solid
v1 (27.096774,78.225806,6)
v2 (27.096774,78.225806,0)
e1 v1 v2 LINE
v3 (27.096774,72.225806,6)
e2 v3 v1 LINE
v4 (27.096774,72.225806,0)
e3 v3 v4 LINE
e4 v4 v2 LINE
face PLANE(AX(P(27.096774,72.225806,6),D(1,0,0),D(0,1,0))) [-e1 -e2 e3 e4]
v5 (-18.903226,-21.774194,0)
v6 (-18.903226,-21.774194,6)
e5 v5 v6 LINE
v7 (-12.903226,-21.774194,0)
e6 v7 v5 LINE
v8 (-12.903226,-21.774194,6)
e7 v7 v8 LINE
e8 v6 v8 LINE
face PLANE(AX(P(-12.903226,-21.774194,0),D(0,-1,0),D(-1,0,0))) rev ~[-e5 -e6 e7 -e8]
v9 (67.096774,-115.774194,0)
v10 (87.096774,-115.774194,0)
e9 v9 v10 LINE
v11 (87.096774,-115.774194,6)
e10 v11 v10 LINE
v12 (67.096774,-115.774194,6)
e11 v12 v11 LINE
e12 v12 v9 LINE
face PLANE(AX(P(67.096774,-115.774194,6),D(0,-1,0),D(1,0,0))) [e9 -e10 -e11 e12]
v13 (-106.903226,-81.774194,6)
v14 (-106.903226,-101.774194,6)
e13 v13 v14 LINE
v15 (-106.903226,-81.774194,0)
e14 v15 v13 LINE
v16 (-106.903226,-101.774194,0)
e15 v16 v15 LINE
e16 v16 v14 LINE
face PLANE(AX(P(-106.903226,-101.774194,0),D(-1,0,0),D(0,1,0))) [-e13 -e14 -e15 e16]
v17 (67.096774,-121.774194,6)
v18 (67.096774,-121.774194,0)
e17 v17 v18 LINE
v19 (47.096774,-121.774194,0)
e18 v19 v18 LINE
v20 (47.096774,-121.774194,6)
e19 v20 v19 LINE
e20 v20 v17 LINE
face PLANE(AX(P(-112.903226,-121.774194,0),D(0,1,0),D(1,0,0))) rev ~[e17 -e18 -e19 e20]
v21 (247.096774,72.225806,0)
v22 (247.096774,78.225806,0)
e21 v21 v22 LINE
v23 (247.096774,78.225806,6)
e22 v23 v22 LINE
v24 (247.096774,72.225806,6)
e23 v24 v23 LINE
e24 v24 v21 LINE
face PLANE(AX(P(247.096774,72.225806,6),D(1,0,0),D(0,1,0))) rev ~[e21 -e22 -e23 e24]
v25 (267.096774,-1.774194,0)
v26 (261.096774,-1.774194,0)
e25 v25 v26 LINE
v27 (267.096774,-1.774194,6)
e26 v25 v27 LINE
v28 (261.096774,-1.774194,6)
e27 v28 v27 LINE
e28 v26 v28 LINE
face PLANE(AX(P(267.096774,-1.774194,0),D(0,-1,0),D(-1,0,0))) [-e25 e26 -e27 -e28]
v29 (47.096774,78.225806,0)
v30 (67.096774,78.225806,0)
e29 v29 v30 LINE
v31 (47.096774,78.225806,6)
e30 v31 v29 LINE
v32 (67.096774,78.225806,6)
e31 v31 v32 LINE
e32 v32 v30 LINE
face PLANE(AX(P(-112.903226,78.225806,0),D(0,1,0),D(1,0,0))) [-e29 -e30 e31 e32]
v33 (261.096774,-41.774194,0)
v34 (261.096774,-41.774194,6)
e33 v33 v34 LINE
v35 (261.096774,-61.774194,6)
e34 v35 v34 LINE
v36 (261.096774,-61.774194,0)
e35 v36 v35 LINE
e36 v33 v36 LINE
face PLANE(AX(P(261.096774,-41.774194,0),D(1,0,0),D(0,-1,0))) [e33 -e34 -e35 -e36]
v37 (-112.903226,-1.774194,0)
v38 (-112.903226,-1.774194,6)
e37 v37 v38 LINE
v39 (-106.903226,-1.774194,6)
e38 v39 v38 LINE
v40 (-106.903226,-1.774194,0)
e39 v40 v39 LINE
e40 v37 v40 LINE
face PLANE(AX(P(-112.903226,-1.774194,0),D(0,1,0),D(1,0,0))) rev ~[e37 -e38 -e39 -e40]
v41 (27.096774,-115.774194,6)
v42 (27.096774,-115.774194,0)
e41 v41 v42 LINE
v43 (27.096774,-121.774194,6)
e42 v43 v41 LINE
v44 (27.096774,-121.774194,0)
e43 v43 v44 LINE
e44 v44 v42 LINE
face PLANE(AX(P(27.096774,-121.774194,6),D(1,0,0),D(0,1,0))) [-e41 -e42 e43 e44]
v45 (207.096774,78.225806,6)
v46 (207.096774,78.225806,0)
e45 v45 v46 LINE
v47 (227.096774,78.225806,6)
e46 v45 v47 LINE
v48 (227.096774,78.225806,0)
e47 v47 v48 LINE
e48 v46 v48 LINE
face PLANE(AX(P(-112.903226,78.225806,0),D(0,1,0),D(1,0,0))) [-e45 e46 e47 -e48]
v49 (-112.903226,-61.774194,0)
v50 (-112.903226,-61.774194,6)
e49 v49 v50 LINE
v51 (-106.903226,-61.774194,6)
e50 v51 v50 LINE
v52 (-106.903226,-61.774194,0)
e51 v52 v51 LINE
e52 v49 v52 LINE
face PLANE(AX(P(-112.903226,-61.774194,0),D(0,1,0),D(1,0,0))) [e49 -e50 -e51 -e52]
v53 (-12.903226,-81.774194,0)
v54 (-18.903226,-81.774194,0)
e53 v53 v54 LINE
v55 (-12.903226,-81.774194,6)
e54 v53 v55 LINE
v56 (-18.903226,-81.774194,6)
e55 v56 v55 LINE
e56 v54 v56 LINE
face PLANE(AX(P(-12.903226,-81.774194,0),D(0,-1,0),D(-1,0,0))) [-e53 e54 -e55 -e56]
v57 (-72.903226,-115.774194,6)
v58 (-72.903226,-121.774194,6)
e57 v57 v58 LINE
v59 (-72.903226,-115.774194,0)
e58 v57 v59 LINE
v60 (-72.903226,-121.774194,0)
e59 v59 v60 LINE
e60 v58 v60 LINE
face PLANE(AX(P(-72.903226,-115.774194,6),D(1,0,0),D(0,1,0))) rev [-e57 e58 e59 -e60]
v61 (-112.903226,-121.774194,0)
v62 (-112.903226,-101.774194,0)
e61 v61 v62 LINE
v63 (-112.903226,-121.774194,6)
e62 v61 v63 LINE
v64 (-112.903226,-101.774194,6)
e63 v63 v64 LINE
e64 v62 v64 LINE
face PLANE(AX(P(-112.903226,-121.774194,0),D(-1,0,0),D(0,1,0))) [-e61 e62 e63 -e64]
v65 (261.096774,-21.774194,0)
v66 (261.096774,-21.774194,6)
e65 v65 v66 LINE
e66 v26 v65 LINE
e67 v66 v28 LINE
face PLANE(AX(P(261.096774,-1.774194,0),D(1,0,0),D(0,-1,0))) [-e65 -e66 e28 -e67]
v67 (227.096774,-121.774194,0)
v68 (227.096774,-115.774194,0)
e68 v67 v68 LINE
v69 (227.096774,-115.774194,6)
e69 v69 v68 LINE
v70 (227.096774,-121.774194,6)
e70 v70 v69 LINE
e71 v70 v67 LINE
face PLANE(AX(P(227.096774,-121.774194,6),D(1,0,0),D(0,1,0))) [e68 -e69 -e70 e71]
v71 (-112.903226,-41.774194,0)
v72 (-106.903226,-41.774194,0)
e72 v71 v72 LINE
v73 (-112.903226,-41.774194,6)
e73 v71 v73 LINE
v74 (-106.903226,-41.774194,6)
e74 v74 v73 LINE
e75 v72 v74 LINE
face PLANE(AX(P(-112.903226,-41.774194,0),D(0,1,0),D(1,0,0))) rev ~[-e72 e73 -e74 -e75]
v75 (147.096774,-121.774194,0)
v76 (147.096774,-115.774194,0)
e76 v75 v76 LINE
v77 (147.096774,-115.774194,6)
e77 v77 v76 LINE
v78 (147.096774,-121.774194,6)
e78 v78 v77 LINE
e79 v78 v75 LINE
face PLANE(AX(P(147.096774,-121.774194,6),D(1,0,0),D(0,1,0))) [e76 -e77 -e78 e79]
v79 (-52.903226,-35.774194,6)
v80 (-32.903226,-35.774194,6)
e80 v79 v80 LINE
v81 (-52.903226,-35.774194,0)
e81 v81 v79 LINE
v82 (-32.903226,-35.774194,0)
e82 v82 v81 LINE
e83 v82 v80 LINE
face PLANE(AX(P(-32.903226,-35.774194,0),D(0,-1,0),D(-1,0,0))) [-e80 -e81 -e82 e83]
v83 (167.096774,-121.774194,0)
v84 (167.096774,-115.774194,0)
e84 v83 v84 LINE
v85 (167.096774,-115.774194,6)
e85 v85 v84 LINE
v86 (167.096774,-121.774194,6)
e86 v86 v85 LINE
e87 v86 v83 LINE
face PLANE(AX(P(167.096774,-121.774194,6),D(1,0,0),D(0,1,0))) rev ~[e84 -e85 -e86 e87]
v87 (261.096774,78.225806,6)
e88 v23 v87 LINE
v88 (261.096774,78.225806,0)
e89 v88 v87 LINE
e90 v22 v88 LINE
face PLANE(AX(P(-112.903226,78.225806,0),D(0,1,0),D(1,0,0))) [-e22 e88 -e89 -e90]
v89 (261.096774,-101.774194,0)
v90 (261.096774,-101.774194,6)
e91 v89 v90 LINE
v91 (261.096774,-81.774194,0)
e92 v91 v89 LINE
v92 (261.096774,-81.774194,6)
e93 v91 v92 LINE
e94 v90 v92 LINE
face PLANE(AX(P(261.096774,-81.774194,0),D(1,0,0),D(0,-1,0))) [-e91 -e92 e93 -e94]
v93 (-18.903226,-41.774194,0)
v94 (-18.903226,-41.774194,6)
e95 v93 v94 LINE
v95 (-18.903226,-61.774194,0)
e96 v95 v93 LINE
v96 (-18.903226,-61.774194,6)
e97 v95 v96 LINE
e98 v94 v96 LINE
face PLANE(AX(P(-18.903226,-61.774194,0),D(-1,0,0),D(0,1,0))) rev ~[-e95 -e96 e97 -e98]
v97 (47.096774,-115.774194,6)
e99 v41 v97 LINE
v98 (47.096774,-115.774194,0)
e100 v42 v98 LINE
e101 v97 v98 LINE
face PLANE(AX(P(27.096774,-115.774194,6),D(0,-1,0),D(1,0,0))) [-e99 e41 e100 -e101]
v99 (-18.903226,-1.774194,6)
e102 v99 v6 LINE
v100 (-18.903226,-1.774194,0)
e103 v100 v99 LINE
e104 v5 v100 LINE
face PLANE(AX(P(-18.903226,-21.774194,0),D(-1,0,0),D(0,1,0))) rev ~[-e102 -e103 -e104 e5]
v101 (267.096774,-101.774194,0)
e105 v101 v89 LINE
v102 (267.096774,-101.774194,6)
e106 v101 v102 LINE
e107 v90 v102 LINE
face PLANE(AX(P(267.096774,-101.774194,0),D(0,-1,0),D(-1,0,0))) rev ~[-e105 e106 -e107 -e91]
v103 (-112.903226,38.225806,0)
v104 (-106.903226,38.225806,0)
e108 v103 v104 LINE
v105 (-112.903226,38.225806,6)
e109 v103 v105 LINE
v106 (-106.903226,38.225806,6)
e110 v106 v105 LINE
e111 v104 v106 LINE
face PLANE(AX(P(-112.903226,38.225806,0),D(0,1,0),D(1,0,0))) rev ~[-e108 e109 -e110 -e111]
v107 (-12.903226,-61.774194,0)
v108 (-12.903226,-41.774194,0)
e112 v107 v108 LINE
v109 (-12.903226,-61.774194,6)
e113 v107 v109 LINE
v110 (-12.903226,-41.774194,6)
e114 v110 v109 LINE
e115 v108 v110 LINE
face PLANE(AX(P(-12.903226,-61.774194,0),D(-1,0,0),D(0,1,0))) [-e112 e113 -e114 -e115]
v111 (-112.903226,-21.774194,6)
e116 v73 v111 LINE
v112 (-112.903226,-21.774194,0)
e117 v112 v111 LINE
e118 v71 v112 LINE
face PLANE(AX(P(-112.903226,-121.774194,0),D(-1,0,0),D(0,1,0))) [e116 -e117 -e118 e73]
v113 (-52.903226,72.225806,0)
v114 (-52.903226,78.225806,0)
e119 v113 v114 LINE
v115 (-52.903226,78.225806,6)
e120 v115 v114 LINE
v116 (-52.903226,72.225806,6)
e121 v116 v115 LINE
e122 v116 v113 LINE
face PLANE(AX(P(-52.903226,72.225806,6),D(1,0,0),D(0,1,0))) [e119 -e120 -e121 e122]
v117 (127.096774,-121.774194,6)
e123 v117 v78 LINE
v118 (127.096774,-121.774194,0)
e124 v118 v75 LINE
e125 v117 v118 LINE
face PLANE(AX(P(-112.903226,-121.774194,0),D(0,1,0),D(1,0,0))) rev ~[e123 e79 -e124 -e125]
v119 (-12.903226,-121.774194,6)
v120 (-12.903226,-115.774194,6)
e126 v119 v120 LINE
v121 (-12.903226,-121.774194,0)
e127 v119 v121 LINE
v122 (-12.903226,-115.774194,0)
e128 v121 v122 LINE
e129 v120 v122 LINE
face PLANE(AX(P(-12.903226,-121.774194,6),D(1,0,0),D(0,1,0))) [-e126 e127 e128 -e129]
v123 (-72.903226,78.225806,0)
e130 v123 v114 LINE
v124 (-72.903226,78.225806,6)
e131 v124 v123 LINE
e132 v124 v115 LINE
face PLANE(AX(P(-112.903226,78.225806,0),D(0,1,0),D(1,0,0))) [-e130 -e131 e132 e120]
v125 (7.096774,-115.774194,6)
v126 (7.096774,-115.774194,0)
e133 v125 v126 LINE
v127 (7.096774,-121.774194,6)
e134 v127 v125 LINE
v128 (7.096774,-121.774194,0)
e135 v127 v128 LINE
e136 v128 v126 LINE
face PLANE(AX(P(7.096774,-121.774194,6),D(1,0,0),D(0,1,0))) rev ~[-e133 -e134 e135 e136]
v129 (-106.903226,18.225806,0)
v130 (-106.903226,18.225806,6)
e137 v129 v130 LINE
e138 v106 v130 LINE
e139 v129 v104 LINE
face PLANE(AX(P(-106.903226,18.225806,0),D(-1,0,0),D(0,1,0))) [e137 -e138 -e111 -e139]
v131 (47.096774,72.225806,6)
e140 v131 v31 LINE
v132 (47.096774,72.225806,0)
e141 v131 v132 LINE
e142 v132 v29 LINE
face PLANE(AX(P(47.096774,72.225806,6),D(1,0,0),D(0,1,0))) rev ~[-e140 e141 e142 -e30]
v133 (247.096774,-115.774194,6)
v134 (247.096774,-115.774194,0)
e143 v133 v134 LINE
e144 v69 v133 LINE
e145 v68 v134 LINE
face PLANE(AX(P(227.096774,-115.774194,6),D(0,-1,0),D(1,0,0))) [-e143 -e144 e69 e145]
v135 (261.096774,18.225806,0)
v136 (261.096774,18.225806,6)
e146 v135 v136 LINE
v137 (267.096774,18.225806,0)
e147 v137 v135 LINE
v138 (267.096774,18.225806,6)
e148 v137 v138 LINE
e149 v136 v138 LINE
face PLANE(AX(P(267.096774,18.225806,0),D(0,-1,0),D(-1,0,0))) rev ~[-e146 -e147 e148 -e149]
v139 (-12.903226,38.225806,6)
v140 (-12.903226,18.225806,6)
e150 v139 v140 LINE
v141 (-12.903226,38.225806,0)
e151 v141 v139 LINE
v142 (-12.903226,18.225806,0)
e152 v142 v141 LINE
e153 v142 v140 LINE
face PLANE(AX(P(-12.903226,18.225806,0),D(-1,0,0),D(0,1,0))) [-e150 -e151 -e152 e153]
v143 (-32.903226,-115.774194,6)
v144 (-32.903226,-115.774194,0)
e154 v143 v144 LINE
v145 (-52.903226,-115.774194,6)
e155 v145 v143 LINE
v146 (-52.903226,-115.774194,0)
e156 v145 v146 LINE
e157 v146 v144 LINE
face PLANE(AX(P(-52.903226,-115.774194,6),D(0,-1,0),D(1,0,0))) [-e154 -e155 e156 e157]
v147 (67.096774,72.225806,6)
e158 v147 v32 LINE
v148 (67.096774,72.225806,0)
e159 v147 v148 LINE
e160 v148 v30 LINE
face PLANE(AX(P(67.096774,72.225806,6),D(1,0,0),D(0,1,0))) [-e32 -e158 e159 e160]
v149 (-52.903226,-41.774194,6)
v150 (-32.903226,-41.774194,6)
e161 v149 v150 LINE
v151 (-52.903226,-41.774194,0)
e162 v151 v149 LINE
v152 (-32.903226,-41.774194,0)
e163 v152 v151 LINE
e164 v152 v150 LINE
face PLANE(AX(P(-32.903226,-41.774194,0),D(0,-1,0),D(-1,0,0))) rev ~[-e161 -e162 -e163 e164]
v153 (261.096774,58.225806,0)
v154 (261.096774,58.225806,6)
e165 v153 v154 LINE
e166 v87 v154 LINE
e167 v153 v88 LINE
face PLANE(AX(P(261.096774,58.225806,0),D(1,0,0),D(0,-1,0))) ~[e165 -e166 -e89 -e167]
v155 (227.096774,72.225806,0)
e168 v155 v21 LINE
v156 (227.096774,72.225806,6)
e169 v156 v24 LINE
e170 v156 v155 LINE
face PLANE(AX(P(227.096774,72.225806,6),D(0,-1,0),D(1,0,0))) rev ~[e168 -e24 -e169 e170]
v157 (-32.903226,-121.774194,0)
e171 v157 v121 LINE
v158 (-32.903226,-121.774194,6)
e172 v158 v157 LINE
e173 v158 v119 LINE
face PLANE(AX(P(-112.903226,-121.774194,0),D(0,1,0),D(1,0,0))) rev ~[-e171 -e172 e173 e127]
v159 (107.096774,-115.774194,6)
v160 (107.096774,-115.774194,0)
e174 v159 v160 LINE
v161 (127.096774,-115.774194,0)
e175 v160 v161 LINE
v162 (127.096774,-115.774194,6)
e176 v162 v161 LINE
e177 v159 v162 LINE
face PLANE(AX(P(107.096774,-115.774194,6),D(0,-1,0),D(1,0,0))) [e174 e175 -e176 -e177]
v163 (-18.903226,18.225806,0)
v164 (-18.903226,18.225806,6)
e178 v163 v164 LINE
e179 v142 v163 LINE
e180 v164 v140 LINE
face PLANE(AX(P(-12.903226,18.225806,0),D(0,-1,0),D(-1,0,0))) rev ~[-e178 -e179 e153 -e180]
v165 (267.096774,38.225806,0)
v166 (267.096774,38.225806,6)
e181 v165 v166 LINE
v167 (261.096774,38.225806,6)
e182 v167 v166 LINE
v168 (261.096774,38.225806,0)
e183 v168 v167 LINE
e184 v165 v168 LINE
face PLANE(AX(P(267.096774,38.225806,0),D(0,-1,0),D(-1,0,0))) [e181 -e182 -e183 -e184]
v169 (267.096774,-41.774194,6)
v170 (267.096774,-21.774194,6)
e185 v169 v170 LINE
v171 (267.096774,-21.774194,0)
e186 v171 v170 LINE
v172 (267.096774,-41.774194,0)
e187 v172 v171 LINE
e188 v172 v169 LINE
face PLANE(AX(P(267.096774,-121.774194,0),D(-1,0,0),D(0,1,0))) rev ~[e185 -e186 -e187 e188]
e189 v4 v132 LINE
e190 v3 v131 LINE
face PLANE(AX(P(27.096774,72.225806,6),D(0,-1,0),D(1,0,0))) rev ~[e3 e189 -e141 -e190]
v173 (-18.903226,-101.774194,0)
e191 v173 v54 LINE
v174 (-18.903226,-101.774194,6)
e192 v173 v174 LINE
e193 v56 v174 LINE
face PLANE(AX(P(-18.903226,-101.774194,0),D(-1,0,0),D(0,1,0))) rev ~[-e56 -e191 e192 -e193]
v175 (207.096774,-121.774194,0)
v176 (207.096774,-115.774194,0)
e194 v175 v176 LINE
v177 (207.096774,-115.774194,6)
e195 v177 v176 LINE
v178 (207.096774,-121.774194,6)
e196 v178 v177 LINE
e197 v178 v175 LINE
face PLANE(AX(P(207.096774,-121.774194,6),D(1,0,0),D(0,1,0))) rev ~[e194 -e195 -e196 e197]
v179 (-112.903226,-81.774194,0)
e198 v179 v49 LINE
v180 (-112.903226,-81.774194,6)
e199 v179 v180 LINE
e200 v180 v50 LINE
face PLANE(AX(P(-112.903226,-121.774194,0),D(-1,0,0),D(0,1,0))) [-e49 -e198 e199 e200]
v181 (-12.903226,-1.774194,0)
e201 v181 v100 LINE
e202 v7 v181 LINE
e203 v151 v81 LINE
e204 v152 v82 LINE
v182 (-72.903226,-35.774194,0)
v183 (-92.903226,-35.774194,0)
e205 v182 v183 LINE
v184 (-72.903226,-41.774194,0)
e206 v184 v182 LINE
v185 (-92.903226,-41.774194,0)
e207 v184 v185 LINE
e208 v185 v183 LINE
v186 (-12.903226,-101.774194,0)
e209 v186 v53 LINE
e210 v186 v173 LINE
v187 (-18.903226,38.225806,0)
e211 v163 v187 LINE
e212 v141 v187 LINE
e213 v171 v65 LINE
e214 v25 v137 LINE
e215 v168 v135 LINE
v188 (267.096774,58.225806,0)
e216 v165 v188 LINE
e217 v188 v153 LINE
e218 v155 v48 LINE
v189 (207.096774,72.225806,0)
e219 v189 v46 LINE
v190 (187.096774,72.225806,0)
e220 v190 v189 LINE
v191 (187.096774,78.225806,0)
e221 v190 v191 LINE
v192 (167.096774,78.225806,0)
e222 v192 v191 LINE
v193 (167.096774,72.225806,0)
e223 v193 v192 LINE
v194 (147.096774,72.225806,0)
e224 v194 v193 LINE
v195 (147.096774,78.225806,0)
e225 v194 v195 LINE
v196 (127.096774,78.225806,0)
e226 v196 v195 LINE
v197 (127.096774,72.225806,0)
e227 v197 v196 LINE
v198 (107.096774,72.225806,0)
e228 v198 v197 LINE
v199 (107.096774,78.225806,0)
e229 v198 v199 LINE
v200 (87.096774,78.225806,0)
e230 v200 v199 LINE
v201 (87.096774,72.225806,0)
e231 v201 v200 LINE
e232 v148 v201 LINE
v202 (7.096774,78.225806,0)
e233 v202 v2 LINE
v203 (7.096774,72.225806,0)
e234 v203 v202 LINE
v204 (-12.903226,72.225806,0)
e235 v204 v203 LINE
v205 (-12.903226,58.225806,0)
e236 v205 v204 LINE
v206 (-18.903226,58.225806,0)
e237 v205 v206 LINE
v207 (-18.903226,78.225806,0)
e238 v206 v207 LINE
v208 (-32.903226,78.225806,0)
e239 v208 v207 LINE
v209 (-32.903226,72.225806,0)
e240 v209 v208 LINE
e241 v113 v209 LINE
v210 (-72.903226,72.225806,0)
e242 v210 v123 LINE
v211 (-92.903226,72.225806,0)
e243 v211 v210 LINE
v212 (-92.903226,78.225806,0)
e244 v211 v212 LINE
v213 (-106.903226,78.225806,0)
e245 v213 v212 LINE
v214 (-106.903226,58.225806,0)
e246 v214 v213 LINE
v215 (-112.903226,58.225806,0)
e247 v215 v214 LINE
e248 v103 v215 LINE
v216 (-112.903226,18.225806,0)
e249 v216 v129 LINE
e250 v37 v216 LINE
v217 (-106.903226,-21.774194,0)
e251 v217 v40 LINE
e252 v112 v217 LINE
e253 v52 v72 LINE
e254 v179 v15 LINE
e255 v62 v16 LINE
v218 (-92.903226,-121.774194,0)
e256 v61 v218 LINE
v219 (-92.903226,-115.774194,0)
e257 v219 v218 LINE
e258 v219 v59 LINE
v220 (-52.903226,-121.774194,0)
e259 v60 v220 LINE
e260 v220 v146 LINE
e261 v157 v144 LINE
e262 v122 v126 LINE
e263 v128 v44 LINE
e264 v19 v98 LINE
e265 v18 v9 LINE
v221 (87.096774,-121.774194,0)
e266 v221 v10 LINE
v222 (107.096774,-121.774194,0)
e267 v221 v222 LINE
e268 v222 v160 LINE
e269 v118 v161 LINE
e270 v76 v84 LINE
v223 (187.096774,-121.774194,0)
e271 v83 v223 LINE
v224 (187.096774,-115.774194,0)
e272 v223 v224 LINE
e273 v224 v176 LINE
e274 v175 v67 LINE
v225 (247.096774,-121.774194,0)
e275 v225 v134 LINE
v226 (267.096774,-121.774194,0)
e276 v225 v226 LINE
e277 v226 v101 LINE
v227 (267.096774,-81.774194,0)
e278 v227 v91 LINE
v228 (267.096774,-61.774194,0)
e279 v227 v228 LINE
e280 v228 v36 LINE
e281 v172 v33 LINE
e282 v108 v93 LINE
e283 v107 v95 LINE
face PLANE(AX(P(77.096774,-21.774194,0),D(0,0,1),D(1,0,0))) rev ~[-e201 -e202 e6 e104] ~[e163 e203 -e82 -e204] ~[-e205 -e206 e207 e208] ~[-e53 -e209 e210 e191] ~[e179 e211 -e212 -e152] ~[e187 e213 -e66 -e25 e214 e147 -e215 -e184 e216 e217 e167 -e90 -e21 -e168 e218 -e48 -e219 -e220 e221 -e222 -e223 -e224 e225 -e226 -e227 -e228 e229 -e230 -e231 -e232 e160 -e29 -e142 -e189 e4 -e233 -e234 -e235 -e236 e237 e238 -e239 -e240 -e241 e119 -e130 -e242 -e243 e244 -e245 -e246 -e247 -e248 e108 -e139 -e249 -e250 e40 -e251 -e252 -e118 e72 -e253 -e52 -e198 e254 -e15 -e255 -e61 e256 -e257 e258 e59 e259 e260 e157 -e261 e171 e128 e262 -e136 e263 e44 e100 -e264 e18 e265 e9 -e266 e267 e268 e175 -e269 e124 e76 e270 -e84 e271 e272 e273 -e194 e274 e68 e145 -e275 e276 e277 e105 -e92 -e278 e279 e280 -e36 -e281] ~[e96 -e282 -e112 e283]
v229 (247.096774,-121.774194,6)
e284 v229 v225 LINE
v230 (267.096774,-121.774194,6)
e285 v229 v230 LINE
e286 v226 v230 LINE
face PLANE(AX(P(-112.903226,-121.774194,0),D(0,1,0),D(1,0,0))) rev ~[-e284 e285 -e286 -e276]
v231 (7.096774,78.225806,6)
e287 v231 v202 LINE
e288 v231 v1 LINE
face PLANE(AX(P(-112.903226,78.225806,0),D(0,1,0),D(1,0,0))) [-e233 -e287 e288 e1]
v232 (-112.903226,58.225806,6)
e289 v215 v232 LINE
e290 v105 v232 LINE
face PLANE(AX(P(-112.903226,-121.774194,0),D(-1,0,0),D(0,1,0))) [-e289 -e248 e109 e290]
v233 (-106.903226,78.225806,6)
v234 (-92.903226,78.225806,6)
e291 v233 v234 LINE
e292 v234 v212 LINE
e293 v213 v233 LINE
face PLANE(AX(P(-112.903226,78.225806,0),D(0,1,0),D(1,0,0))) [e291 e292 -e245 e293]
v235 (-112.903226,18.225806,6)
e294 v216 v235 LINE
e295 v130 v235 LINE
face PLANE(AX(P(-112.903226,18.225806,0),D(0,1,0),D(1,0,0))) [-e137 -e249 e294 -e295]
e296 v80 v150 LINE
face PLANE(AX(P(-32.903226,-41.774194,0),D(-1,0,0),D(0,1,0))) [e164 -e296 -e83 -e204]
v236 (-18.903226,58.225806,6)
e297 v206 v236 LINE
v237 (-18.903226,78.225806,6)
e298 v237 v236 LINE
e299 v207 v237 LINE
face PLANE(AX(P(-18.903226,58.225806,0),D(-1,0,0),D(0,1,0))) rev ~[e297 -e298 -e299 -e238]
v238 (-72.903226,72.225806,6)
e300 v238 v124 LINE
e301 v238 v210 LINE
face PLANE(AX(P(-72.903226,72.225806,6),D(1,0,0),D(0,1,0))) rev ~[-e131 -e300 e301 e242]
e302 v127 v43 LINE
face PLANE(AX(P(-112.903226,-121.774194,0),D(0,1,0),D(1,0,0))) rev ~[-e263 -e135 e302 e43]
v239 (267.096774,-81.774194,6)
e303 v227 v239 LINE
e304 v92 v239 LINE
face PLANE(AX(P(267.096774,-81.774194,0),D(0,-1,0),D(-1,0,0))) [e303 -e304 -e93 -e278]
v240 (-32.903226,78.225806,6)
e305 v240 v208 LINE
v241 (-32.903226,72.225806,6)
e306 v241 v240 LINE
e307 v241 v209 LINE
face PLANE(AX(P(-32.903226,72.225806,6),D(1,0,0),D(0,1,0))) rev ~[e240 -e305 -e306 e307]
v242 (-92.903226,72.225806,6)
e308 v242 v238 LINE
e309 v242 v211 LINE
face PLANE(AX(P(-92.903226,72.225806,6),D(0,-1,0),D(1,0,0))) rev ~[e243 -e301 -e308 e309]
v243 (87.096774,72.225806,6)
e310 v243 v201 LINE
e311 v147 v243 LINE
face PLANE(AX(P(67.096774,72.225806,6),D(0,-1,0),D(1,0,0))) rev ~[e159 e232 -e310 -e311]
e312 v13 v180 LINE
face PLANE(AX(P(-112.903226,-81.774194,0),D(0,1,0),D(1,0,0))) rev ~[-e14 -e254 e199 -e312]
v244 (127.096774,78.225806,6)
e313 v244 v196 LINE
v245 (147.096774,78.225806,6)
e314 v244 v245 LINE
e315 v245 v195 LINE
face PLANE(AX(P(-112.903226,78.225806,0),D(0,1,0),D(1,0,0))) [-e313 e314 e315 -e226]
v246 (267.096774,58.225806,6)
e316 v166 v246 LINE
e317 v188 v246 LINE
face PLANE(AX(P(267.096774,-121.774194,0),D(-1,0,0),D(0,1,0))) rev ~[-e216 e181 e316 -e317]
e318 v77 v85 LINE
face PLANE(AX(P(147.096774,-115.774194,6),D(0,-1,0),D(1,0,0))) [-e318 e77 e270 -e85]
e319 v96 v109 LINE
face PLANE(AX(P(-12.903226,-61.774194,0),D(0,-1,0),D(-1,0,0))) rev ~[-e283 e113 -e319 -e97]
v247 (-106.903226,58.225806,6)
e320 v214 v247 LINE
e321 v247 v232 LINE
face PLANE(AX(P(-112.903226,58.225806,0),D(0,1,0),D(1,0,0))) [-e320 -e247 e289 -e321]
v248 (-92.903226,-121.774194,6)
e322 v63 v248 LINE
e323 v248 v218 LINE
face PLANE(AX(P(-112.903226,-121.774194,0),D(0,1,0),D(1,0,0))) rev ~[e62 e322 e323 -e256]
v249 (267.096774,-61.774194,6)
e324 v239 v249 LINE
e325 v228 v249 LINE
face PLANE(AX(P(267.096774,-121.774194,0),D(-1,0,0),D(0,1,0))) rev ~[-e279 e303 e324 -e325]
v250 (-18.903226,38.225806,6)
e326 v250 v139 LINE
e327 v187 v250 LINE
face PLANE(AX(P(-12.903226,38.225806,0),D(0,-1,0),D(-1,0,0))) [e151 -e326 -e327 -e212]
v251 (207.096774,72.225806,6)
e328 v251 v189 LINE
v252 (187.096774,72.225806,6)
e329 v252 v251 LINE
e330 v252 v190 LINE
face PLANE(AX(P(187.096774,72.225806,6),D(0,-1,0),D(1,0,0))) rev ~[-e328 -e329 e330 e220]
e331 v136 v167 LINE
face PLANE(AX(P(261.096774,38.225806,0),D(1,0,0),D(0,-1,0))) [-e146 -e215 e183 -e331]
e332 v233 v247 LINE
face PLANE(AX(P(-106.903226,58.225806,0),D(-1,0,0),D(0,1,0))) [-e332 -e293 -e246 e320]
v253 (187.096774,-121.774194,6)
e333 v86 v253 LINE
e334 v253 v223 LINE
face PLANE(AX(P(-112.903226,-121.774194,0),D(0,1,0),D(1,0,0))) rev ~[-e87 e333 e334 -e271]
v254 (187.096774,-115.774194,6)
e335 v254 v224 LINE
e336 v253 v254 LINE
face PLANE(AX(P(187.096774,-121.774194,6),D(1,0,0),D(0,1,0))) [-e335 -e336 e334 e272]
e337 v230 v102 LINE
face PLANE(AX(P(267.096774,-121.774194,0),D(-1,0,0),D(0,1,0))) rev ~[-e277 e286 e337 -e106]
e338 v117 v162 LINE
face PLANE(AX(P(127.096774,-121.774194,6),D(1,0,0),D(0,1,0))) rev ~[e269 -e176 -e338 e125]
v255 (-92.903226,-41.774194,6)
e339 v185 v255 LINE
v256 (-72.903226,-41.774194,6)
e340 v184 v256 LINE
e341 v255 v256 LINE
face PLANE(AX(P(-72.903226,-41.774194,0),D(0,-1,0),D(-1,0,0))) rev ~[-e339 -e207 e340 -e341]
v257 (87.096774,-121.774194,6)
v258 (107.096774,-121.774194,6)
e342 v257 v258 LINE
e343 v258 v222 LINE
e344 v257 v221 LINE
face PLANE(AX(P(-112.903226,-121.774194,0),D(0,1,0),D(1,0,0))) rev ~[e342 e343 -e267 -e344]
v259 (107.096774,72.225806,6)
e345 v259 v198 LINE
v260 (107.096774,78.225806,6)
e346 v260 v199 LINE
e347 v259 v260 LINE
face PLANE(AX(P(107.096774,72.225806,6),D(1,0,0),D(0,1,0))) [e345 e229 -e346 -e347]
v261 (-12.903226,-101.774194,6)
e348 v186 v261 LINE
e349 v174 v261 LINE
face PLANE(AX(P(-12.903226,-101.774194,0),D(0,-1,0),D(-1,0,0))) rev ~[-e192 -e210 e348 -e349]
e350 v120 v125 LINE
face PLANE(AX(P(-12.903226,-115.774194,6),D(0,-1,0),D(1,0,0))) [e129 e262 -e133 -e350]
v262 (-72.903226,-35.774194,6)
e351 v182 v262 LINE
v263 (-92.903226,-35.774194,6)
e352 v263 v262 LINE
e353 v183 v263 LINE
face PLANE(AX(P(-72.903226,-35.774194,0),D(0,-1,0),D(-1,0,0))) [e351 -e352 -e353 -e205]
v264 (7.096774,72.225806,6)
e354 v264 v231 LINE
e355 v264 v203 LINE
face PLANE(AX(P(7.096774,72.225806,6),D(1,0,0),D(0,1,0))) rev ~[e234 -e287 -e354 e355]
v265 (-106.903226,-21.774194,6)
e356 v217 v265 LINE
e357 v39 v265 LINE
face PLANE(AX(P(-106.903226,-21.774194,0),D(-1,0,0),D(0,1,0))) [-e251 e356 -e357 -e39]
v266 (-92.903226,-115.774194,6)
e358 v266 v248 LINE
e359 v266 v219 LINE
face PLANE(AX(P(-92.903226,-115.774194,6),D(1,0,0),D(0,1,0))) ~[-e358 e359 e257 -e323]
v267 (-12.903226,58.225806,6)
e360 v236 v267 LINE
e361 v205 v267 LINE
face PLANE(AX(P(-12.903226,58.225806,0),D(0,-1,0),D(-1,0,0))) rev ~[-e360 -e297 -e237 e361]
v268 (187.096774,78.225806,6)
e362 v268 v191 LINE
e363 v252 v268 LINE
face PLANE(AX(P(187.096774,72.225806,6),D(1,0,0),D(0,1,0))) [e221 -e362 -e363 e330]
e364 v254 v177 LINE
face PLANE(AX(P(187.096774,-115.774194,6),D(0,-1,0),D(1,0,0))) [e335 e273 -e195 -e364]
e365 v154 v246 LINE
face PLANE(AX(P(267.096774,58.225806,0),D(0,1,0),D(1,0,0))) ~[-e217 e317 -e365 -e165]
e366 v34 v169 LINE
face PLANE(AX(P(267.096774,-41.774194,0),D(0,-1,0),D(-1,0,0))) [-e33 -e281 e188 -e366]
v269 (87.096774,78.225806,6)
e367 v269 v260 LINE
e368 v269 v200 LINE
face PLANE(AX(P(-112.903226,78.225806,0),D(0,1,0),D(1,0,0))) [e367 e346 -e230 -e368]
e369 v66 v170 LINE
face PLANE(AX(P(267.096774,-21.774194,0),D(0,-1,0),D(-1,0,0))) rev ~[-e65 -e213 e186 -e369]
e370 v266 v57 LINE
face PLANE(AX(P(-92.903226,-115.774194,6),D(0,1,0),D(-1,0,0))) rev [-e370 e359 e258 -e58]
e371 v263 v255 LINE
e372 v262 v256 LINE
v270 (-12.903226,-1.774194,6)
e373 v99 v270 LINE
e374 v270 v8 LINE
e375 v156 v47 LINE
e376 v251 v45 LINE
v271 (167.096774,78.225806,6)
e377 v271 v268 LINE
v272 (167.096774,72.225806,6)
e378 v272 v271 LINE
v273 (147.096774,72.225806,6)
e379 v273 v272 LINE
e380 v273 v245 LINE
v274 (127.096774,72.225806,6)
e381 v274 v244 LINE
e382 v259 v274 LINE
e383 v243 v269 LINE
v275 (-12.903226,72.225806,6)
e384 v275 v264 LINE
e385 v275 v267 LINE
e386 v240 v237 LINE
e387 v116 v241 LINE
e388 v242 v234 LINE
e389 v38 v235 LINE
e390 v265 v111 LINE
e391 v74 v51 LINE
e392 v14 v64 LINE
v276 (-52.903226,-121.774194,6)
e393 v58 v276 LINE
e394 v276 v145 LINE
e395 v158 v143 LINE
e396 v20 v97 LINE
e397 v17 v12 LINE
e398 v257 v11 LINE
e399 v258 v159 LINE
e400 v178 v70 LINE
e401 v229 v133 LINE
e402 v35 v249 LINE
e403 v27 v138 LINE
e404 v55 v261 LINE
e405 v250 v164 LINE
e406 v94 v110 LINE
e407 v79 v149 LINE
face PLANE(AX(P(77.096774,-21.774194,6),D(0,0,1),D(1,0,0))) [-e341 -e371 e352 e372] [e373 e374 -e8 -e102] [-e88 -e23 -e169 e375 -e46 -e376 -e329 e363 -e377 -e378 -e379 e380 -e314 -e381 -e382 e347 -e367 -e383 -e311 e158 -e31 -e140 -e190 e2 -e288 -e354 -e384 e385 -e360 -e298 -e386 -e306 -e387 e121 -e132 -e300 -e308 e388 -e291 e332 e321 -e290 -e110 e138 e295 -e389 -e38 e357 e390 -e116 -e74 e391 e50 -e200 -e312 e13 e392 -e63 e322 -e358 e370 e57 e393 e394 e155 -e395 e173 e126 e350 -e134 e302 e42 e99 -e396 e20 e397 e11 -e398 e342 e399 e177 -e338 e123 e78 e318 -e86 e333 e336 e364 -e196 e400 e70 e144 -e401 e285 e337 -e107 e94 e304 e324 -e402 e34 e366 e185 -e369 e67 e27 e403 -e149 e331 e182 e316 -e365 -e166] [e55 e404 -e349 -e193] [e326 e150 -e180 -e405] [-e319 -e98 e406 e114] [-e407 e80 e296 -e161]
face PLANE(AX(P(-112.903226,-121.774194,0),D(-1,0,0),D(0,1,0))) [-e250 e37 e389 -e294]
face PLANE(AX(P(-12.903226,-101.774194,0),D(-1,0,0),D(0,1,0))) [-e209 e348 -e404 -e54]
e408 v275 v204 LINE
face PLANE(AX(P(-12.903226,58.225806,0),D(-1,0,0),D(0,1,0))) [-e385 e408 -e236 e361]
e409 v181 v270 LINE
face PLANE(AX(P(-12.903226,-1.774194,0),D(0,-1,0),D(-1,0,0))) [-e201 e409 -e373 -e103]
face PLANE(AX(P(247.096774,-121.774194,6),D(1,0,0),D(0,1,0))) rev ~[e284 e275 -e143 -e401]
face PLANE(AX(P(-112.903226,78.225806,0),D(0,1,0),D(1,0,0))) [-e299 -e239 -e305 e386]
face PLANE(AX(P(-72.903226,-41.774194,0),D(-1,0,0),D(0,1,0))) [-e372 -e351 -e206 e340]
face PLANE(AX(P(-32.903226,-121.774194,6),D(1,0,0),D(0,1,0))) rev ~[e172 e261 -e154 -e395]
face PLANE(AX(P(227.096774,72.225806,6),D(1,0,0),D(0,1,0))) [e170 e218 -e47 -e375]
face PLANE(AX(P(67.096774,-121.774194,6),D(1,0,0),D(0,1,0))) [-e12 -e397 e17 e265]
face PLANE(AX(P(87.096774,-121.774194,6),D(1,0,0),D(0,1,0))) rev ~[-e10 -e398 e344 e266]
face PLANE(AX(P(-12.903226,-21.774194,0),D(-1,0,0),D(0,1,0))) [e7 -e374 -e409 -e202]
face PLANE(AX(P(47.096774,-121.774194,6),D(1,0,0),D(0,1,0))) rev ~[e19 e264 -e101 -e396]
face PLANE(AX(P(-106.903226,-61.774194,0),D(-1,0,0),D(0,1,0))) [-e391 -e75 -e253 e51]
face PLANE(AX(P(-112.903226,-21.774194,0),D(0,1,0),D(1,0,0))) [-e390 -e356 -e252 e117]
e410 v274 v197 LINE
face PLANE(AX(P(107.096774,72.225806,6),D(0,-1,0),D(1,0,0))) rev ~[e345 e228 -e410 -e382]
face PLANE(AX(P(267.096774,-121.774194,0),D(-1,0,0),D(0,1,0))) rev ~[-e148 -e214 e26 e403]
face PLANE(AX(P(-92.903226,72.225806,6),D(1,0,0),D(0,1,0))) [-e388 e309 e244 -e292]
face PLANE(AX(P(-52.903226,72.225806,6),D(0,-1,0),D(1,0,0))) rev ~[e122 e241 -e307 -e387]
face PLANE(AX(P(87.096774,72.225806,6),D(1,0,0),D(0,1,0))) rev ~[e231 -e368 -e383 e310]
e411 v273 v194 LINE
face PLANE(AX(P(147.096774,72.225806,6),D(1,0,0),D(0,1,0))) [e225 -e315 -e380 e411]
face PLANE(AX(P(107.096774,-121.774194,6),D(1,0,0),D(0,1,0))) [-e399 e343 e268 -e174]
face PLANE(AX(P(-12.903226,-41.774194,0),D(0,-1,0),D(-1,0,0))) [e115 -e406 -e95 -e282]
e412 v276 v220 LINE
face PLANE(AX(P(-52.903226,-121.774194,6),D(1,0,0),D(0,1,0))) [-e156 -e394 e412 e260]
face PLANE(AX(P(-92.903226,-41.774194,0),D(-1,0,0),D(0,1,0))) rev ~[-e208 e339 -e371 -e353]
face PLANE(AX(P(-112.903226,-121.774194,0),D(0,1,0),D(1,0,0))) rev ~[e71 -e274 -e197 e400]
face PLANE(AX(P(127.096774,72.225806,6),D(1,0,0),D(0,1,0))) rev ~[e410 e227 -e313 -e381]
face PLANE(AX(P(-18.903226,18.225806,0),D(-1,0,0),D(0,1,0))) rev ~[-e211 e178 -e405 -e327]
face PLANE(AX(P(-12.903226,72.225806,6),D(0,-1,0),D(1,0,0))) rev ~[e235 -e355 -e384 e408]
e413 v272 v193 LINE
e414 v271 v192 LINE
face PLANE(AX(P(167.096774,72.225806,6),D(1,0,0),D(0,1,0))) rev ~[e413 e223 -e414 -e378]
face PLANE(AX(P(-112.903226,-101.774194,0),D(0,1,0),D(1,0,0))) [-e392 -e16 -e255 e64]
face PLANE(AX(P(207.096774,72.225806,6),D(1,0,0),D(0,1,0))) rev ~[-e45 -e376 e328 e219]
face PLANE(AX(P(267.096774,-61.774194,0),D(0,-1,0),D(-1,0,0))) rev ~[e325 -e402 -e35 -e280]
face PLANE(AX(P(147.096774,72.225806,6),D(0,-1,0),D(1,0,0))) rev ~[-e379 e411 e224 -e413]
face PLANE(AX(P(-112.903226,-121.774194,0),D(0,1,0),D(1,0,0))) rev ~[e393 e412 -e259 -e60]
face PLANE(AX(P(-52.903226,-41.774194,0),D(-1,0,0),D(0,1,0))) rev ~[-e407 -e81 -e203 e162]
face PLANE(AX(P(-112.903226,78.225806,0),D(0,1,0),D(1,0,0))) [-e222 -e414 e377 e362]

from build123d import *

# Parameters (mm, degrees)
SKETCH1_W               = 380
SKETCH1_H               = 200
BOSS_EXTRUDE1_DEPTH     = 6
SKETCH6_W               = 6
SKETCH6_H               = 20
CUT_EXTRUDE4_DEPTH      = 7
LPATTERN3_COUNT         = 5
LPATTERN3_PITCH         = 40
SKETCH7_W               = 20
SKETCH7_H               = 6
CUT_EXTRUDE5_DEPTH      = 10
LPATTERN4_COUNT         = 9
LPATTERN4_PITCH         = 40
MIRROR1_COPY_1_SKETCH_W = 20
MIRROR1_COPY_1_SKETCH_H = 6
MIRROR1_COPY_1_DEPTH    = 10
MIRROR1_COPY_2_SKETCH_W = 20
MIRROR1_COPY_2_SKETCH_H = 6
MIRROR1_COPY_2_DEPTH    = 10
MIRROR1_COPY_3_SKETCH_W = 20
MIRROR1_COPY_3_SKETCH_H = 6
MIRROR1_COPY_3_DEPTH    = 10
MIRROR1_COPY_4_SKETCH_W = 20
MIRROR1_COPY_4_SKETCH_H = 6
MIRROR1_COPY_4_DEPTH    = 10
MIRROR1_COPY_5_SKETCH_W = 20
MIRROR1_COPY_5_SKETCH_H = 6
MIRROR1_COPY_5_DEPTH    = 10
MIRROR1_COPY_6_SKETCH_W = 20
MIRROR1_COPY_6_SKETCH_H = 6
MIRROR1_COPY_6_DEPTH    = 10
MIRROR1_COPY_7_SKETCH_W = 20
MIRROR1_COPY_7_SKETCH_H = 6
MIRROR1_COPY_7_DEPTH    = 10
MIRROR1_COPY_8_SKETCH_W = 20
MIRROR1_COPY_8_SKETCH_H = 6
MIRROR1_COPY_8_DEPTH    = 10
MIRROR2_COPY_1_SKETCH_W = 6
MIRROR2_COPY_1_SKETCH_H = 20
MIRROR2_COPY_1_DEPTH    = 7
MIRROR2_COPY_2_SKETCH_W = 6
MIRROR2_COPY_2_SKETCH_H = 20
MIRROR2_COPY_2_DEPTH    = 7
MIRROR2_COPY_3_SKETCH_W = 6
MIRROR2_COPY_3_SKETCH_H = 20
MIRROR2_COPY_3_DEPTH    = 7
MIRROR2_COPY_4_SKETCH_W = 6
MIRROR2_COPY_4_SKETCH_H = 20
MIRROR2_COPY_4_DEPTH    = 7
SKETCH10_W              = 6
SKETCH10_H              = 20
CUT_EXTRUDE6_DEPTH      = 10
LPATTERN5_COUNT         = 5
LPATTERN5_PITCH         = 40
SKETCH11_W              = 20
SKETCH11_H              = 6
CUT_EXTRUDE7_DEPTH      = 10
LPATTERN6_COUNT         = 2
LPATTERN6_PITCH         = 40


with BuildPart() as part:
    # Sketch1 → Boss-Extrude1 (new body)
    with BuildSketch(Plane.XY):
        with Locations((77.096774194, -21.774193548)):
            Rectangle(SKETCH1_W, SKETCH1_H)
    extrude(amount=BOSS_EXTRUDE1_DEPTH)

    # Sketch6 → Cut-Extrude4 (cut, through all)
    with BuildSketch(Plane.XY):
        with Locations((-109.903225806, 68.225806452)):
            Rectangle(SKETCH6_W, SKETCH6_H)
    cut_extrude4 = extrude(amount=CUT_EXTRUDE4_DEPTH, mode=Mode.SUBTRACT)

    # LPattern3: Cut-Extrude4 ×5
    with Locations(*[(0, -i * LPATTERN3_PITCH, 0) for i in range(1, LPATTERN3_COUNT)]):
        add(cut_extrude4, mode=Mode.SUBTRACT)

    # Sketch7 → Cut-Extrude5 (cut)
    with BuildSketch(Plane.XY.offset(6)):
        with Locations((-82.903225806, 75.225806452)):
            Rectangle(SKETCH7_W, SKETCH7_H)
    cut_extrude5 = extrude(amount=-CUT_EXTRUDE5_DEPTH, mode=Mode.SUBTRACT)

    # LPattern4: Cut-Extrude5 ×9
    with Locations(*[(i * LPATTERN4_PITCH, 0, 0) for i in range(1, LPATTERN4_COUNT)]):
        add(cut_extrude5, mode=Mode.SUBTRACT)

    # Mirror1: Cut-Extrude5 across plane
    add(cut_extrude5.mirror(Plane.ZX.offset(-21.774193548)), mode=Mode.SUBTRACT)

    # Mirror1 copy 1 sketch → Mirror1 copy 1 (cut)
    with BuildSketch(Plane(origin=(40, -43.548387097, 6), x_dir=(1, 0, 0), z_dir=(0, 0, 1))):
        with Locations((-82.903225806, -75.225806452)):
            Rectangle(MIRROR1_COPY_1_SKETCH_W, MIRROR1_COPY_1_SKETCH_H)
    extrude(amount=-MIRROR1_COPY_1_DEPTH, mode=Mode.SUBTRACT)

    # Mirror1 copy 2 sketch → Mirror1 copy 2 (cut)
    with BuildSketch(Plane(origin=(80, -43.548387097, 6), x_dir=(1, 0, 0), z_dir=(0, 0, 1))):
        with Locations((-82.903225806, -75.225806452)):
            Rectangle(MIRROR1_COPY_2_SKETCH_W, MIRROR1_COPY_2_SKETCH_H)
    extrude(amount=-MIRROR1_COPY_2_DEPTH, mode=Mode.SUBTRACT)

    # Mirror1 copy 3 sketch → Mirror1 copy 3 (cut)
    with BuildSketch(Plane(origin=(120, -43.548387097, 6), x_dir=(1, 0, 0), z_dir=(0, 0, 1))):
        with Locations((-82.903225806, -75.225806452)):
            Rectangle(MIRROR1_COPY_3_SKETCH_W, MIRROR1_COPY_3_SKETCH_H)
    extrude(amount=-MIRROR1_COPY_3_DEPTH, mode=Mode.SUBTRACT)

    # Mirror1 copy 4 sketch → Mirror1 copy 4 (cut)
    with BuildSketch(Plane(origin=(160, -43.548387097, 6), x_dir=(1, 0, 0), z_dir=(0, 0, 1))):
        with Locations((-82.903225806, -75.225806452)):
            Rectangle(MIRROR1_COPY_4_SKETCH_W, MIRROR1_COPY_4_SKETCH_H)
    extrude(amount=-MIRROR1_COPY_4_DEPTH, mode=Mode.SUBTRACT)

    # Mirror1 copy 5 sketch → Mirror1 copy 5 (cut)
    with BuildSketch(Plane(origin=(200, -43.548387097, 6), x_dir=(1, 0, 0), z_dir=(0, 0, 1))):
        with Locations((-82.903225806, -75.225806452)):
            Rectangle(MIRROR1_COPY_5_SKETCH_W, MIRROR1_COPY_5_SKETCH_H)
    extrude(amount=-MIRROR1_COPY_5_DEPTH, mode=Mode.SUBTRACT)

    # Mirror1 copy 6 sketch → Mirror1 copy 6 (cut)
    with BuildSketch(Plane(origin=(240, -43.548387097, 6), x_dir=(1, 0, 0), z_dir=(0, 0, 1))):
        with Locations((-82.903225806, -75.225806452)):
            Rectangle(MIRROR1_COPY_6_SKETCH_W, MIRROR1_COPY_6_SKETCH_H)
    extrude(amount=-MIRROR1_COPY_6_DEPTH, mode=Mode.SUBTRACT)

    # Mirror1 copy 7 sketch → Mirror1 copy 7 (cut)
    with BuildSketch(Plane(origin=(280, -43.548387097, 6), x_dir=(1, 0, 0), z_dir=(0, 0, 1))):
        with Locations((-82.903225806, -75.225806452)):
            Rectangle(MIRROR1_COPY_7_SKETCH_W, MIRROR1_COPY_7_SKETCH_H)
    extrude(amount=-MIRROR1_COPY_7_DEPTH, mode=Mode.SUBTRACT)

    # Mirror1 copy 8 sketch → Mirror1 copy 8 (cut)
    with BuildSketch(Plane(origin=(320, -43.548387097, 6), x_dir=(1, 0, 0), z_dir=(0, 0, 1))):
        with Locations((-82.903225806, -75.225806452)):
            Rectangle(MIRROR1_COPY_8_SKETCH_W, MIRROR1_COPY_8_SKETCH_H)
    extrude(amount=-MIRROR1_COPY_8_DEPTH, mode=Mode.SUBTRACT)

    # Mirror2: Cut-Extrude4 across plane
    add(cut_extrude4.mirror(Plane(origin=(77.096774194, 0, 0), x_dir=(0, 0, 1), z_dir=(1, 0, 0))), mode=Mode.SUBTRACT)

    # Mirror2 copy 1 sketch → Mirror2 copy 1 (cut, through all)
    with BuildSketch(Plane(origin=(154.193548387, -40, 0), x_dir=(-1, 0, 0), z_dir=(0, 0, 1))):
        with Locations((-109.903225806, -68.225806452)):
            Rectangle(MIRROR2_COPY_1_SKETCH_W, MIRROR2_COPY_1_SKETCH_H)
    extrude(amount=MIRROR2_COPY_1_DEPTH, mode=Mode.SUBTRACT)

    # Mirror2 copy 2 sketch → Mirror2 copy 2 (cut, through all)
    with BuildSketch(Plane(origin=(154.193548387, -80, 0), x_dir=(-1, 0, 0), z_dir=(0, 0, 1))):
        with Locations((-109.903225806, -68.225806452)):
            Rectangle(MIRROR2_COPY_2_SKETCH_W, MIRROR2_COPY_2_SKETCH_H)
    extrude(amount=MIRROR2_COPY_2_DEPTH, mode=Mode.SUBTRACT)

    # Mirror2 copy 3 sketch → Mirror2 copy 3 (cut, through all)
    with BuildSketch(Plane(origin=(154.193548387, -120, 0), x_dir=(-1, 0, 0), z_dir=(0, 0, 1))):
        with Locations((-109.903225806, -68.225806452)):
            Rectangle(MIRROR2_COPY_3_SKETCH_W, MIRROR2_COPY_3_SKETCH_H)
    extrude(amount=MIRROR2_COPY_3_DEPTH, mode=Mode.SUBTRACT)

    # Mirror2 copy 4 sketch → Mirror2 copy 4 (cut, through all)
    with BuildSketch(Plane(origin=(154.193548387, -160, 0), x_dir=(-1, 0, 0), z_dir=(0, 0, 1))):
        with Locations((-109.903225806, -68.225806452)):
            Rectangle(MIRROR2_COPY_4_SKETCH_W, MIRROR2_COPY_4_SKETCH_H)
    extrude(amount=MIRROR2_COPY_4_DEPTH, mode=Mode.SUBTRACT)

    # Sketch10 → Cut-Extrude6 (cut)
    with BuildSketch(Plane(origin=(0, 0, 0), x_dir=(-1, 0, 0), z_dir=(0, 0, -1))):
        with Locations((15.903225806, 68.225806452)):
            Rectangle(SKETCH10_W, SKETCH10_H)
    cut_extrude6 = extrude(amount=-CUT_EXTRUDE6_DEPTH, mode=Mode.SUBTRACT)

    # LPattern5: Cut-Extrude6 ×5
    with Locations(*[(0, -i * LPATTERN5_PITCH, 0) for i in range(1, LPATTERN5_COUNT)]):
        add(cut_extrude6, mode=Mode.SUBTRACT)

    # Sketch11 → Cut-Extrude7 (cut)
    with BuildSketch(Plane(origin=(0, 0, 0), x_dir=(-1, 0, 0), z_dir=(0, 0, -1))):
        with Locations((42.903225806, -38.774193548)):
            Rectangle(SKETCH11_W, SKETCH11_H)
    cut_extrude7 = extrude(amount=-CUT_EXTRUDE7_DEPTH, mode=Mode.SUBTRACT)

    # LPattern6: Cut-Extrude7 ×2
    with Locations(*[(-i * LPATTERN6_PITCH, 0, 0) for i in range(1, LPATTERN6_COUNT)]):
        add(cut_extrude7, mode=Mode.SUBTRACT)


solid = part.part
